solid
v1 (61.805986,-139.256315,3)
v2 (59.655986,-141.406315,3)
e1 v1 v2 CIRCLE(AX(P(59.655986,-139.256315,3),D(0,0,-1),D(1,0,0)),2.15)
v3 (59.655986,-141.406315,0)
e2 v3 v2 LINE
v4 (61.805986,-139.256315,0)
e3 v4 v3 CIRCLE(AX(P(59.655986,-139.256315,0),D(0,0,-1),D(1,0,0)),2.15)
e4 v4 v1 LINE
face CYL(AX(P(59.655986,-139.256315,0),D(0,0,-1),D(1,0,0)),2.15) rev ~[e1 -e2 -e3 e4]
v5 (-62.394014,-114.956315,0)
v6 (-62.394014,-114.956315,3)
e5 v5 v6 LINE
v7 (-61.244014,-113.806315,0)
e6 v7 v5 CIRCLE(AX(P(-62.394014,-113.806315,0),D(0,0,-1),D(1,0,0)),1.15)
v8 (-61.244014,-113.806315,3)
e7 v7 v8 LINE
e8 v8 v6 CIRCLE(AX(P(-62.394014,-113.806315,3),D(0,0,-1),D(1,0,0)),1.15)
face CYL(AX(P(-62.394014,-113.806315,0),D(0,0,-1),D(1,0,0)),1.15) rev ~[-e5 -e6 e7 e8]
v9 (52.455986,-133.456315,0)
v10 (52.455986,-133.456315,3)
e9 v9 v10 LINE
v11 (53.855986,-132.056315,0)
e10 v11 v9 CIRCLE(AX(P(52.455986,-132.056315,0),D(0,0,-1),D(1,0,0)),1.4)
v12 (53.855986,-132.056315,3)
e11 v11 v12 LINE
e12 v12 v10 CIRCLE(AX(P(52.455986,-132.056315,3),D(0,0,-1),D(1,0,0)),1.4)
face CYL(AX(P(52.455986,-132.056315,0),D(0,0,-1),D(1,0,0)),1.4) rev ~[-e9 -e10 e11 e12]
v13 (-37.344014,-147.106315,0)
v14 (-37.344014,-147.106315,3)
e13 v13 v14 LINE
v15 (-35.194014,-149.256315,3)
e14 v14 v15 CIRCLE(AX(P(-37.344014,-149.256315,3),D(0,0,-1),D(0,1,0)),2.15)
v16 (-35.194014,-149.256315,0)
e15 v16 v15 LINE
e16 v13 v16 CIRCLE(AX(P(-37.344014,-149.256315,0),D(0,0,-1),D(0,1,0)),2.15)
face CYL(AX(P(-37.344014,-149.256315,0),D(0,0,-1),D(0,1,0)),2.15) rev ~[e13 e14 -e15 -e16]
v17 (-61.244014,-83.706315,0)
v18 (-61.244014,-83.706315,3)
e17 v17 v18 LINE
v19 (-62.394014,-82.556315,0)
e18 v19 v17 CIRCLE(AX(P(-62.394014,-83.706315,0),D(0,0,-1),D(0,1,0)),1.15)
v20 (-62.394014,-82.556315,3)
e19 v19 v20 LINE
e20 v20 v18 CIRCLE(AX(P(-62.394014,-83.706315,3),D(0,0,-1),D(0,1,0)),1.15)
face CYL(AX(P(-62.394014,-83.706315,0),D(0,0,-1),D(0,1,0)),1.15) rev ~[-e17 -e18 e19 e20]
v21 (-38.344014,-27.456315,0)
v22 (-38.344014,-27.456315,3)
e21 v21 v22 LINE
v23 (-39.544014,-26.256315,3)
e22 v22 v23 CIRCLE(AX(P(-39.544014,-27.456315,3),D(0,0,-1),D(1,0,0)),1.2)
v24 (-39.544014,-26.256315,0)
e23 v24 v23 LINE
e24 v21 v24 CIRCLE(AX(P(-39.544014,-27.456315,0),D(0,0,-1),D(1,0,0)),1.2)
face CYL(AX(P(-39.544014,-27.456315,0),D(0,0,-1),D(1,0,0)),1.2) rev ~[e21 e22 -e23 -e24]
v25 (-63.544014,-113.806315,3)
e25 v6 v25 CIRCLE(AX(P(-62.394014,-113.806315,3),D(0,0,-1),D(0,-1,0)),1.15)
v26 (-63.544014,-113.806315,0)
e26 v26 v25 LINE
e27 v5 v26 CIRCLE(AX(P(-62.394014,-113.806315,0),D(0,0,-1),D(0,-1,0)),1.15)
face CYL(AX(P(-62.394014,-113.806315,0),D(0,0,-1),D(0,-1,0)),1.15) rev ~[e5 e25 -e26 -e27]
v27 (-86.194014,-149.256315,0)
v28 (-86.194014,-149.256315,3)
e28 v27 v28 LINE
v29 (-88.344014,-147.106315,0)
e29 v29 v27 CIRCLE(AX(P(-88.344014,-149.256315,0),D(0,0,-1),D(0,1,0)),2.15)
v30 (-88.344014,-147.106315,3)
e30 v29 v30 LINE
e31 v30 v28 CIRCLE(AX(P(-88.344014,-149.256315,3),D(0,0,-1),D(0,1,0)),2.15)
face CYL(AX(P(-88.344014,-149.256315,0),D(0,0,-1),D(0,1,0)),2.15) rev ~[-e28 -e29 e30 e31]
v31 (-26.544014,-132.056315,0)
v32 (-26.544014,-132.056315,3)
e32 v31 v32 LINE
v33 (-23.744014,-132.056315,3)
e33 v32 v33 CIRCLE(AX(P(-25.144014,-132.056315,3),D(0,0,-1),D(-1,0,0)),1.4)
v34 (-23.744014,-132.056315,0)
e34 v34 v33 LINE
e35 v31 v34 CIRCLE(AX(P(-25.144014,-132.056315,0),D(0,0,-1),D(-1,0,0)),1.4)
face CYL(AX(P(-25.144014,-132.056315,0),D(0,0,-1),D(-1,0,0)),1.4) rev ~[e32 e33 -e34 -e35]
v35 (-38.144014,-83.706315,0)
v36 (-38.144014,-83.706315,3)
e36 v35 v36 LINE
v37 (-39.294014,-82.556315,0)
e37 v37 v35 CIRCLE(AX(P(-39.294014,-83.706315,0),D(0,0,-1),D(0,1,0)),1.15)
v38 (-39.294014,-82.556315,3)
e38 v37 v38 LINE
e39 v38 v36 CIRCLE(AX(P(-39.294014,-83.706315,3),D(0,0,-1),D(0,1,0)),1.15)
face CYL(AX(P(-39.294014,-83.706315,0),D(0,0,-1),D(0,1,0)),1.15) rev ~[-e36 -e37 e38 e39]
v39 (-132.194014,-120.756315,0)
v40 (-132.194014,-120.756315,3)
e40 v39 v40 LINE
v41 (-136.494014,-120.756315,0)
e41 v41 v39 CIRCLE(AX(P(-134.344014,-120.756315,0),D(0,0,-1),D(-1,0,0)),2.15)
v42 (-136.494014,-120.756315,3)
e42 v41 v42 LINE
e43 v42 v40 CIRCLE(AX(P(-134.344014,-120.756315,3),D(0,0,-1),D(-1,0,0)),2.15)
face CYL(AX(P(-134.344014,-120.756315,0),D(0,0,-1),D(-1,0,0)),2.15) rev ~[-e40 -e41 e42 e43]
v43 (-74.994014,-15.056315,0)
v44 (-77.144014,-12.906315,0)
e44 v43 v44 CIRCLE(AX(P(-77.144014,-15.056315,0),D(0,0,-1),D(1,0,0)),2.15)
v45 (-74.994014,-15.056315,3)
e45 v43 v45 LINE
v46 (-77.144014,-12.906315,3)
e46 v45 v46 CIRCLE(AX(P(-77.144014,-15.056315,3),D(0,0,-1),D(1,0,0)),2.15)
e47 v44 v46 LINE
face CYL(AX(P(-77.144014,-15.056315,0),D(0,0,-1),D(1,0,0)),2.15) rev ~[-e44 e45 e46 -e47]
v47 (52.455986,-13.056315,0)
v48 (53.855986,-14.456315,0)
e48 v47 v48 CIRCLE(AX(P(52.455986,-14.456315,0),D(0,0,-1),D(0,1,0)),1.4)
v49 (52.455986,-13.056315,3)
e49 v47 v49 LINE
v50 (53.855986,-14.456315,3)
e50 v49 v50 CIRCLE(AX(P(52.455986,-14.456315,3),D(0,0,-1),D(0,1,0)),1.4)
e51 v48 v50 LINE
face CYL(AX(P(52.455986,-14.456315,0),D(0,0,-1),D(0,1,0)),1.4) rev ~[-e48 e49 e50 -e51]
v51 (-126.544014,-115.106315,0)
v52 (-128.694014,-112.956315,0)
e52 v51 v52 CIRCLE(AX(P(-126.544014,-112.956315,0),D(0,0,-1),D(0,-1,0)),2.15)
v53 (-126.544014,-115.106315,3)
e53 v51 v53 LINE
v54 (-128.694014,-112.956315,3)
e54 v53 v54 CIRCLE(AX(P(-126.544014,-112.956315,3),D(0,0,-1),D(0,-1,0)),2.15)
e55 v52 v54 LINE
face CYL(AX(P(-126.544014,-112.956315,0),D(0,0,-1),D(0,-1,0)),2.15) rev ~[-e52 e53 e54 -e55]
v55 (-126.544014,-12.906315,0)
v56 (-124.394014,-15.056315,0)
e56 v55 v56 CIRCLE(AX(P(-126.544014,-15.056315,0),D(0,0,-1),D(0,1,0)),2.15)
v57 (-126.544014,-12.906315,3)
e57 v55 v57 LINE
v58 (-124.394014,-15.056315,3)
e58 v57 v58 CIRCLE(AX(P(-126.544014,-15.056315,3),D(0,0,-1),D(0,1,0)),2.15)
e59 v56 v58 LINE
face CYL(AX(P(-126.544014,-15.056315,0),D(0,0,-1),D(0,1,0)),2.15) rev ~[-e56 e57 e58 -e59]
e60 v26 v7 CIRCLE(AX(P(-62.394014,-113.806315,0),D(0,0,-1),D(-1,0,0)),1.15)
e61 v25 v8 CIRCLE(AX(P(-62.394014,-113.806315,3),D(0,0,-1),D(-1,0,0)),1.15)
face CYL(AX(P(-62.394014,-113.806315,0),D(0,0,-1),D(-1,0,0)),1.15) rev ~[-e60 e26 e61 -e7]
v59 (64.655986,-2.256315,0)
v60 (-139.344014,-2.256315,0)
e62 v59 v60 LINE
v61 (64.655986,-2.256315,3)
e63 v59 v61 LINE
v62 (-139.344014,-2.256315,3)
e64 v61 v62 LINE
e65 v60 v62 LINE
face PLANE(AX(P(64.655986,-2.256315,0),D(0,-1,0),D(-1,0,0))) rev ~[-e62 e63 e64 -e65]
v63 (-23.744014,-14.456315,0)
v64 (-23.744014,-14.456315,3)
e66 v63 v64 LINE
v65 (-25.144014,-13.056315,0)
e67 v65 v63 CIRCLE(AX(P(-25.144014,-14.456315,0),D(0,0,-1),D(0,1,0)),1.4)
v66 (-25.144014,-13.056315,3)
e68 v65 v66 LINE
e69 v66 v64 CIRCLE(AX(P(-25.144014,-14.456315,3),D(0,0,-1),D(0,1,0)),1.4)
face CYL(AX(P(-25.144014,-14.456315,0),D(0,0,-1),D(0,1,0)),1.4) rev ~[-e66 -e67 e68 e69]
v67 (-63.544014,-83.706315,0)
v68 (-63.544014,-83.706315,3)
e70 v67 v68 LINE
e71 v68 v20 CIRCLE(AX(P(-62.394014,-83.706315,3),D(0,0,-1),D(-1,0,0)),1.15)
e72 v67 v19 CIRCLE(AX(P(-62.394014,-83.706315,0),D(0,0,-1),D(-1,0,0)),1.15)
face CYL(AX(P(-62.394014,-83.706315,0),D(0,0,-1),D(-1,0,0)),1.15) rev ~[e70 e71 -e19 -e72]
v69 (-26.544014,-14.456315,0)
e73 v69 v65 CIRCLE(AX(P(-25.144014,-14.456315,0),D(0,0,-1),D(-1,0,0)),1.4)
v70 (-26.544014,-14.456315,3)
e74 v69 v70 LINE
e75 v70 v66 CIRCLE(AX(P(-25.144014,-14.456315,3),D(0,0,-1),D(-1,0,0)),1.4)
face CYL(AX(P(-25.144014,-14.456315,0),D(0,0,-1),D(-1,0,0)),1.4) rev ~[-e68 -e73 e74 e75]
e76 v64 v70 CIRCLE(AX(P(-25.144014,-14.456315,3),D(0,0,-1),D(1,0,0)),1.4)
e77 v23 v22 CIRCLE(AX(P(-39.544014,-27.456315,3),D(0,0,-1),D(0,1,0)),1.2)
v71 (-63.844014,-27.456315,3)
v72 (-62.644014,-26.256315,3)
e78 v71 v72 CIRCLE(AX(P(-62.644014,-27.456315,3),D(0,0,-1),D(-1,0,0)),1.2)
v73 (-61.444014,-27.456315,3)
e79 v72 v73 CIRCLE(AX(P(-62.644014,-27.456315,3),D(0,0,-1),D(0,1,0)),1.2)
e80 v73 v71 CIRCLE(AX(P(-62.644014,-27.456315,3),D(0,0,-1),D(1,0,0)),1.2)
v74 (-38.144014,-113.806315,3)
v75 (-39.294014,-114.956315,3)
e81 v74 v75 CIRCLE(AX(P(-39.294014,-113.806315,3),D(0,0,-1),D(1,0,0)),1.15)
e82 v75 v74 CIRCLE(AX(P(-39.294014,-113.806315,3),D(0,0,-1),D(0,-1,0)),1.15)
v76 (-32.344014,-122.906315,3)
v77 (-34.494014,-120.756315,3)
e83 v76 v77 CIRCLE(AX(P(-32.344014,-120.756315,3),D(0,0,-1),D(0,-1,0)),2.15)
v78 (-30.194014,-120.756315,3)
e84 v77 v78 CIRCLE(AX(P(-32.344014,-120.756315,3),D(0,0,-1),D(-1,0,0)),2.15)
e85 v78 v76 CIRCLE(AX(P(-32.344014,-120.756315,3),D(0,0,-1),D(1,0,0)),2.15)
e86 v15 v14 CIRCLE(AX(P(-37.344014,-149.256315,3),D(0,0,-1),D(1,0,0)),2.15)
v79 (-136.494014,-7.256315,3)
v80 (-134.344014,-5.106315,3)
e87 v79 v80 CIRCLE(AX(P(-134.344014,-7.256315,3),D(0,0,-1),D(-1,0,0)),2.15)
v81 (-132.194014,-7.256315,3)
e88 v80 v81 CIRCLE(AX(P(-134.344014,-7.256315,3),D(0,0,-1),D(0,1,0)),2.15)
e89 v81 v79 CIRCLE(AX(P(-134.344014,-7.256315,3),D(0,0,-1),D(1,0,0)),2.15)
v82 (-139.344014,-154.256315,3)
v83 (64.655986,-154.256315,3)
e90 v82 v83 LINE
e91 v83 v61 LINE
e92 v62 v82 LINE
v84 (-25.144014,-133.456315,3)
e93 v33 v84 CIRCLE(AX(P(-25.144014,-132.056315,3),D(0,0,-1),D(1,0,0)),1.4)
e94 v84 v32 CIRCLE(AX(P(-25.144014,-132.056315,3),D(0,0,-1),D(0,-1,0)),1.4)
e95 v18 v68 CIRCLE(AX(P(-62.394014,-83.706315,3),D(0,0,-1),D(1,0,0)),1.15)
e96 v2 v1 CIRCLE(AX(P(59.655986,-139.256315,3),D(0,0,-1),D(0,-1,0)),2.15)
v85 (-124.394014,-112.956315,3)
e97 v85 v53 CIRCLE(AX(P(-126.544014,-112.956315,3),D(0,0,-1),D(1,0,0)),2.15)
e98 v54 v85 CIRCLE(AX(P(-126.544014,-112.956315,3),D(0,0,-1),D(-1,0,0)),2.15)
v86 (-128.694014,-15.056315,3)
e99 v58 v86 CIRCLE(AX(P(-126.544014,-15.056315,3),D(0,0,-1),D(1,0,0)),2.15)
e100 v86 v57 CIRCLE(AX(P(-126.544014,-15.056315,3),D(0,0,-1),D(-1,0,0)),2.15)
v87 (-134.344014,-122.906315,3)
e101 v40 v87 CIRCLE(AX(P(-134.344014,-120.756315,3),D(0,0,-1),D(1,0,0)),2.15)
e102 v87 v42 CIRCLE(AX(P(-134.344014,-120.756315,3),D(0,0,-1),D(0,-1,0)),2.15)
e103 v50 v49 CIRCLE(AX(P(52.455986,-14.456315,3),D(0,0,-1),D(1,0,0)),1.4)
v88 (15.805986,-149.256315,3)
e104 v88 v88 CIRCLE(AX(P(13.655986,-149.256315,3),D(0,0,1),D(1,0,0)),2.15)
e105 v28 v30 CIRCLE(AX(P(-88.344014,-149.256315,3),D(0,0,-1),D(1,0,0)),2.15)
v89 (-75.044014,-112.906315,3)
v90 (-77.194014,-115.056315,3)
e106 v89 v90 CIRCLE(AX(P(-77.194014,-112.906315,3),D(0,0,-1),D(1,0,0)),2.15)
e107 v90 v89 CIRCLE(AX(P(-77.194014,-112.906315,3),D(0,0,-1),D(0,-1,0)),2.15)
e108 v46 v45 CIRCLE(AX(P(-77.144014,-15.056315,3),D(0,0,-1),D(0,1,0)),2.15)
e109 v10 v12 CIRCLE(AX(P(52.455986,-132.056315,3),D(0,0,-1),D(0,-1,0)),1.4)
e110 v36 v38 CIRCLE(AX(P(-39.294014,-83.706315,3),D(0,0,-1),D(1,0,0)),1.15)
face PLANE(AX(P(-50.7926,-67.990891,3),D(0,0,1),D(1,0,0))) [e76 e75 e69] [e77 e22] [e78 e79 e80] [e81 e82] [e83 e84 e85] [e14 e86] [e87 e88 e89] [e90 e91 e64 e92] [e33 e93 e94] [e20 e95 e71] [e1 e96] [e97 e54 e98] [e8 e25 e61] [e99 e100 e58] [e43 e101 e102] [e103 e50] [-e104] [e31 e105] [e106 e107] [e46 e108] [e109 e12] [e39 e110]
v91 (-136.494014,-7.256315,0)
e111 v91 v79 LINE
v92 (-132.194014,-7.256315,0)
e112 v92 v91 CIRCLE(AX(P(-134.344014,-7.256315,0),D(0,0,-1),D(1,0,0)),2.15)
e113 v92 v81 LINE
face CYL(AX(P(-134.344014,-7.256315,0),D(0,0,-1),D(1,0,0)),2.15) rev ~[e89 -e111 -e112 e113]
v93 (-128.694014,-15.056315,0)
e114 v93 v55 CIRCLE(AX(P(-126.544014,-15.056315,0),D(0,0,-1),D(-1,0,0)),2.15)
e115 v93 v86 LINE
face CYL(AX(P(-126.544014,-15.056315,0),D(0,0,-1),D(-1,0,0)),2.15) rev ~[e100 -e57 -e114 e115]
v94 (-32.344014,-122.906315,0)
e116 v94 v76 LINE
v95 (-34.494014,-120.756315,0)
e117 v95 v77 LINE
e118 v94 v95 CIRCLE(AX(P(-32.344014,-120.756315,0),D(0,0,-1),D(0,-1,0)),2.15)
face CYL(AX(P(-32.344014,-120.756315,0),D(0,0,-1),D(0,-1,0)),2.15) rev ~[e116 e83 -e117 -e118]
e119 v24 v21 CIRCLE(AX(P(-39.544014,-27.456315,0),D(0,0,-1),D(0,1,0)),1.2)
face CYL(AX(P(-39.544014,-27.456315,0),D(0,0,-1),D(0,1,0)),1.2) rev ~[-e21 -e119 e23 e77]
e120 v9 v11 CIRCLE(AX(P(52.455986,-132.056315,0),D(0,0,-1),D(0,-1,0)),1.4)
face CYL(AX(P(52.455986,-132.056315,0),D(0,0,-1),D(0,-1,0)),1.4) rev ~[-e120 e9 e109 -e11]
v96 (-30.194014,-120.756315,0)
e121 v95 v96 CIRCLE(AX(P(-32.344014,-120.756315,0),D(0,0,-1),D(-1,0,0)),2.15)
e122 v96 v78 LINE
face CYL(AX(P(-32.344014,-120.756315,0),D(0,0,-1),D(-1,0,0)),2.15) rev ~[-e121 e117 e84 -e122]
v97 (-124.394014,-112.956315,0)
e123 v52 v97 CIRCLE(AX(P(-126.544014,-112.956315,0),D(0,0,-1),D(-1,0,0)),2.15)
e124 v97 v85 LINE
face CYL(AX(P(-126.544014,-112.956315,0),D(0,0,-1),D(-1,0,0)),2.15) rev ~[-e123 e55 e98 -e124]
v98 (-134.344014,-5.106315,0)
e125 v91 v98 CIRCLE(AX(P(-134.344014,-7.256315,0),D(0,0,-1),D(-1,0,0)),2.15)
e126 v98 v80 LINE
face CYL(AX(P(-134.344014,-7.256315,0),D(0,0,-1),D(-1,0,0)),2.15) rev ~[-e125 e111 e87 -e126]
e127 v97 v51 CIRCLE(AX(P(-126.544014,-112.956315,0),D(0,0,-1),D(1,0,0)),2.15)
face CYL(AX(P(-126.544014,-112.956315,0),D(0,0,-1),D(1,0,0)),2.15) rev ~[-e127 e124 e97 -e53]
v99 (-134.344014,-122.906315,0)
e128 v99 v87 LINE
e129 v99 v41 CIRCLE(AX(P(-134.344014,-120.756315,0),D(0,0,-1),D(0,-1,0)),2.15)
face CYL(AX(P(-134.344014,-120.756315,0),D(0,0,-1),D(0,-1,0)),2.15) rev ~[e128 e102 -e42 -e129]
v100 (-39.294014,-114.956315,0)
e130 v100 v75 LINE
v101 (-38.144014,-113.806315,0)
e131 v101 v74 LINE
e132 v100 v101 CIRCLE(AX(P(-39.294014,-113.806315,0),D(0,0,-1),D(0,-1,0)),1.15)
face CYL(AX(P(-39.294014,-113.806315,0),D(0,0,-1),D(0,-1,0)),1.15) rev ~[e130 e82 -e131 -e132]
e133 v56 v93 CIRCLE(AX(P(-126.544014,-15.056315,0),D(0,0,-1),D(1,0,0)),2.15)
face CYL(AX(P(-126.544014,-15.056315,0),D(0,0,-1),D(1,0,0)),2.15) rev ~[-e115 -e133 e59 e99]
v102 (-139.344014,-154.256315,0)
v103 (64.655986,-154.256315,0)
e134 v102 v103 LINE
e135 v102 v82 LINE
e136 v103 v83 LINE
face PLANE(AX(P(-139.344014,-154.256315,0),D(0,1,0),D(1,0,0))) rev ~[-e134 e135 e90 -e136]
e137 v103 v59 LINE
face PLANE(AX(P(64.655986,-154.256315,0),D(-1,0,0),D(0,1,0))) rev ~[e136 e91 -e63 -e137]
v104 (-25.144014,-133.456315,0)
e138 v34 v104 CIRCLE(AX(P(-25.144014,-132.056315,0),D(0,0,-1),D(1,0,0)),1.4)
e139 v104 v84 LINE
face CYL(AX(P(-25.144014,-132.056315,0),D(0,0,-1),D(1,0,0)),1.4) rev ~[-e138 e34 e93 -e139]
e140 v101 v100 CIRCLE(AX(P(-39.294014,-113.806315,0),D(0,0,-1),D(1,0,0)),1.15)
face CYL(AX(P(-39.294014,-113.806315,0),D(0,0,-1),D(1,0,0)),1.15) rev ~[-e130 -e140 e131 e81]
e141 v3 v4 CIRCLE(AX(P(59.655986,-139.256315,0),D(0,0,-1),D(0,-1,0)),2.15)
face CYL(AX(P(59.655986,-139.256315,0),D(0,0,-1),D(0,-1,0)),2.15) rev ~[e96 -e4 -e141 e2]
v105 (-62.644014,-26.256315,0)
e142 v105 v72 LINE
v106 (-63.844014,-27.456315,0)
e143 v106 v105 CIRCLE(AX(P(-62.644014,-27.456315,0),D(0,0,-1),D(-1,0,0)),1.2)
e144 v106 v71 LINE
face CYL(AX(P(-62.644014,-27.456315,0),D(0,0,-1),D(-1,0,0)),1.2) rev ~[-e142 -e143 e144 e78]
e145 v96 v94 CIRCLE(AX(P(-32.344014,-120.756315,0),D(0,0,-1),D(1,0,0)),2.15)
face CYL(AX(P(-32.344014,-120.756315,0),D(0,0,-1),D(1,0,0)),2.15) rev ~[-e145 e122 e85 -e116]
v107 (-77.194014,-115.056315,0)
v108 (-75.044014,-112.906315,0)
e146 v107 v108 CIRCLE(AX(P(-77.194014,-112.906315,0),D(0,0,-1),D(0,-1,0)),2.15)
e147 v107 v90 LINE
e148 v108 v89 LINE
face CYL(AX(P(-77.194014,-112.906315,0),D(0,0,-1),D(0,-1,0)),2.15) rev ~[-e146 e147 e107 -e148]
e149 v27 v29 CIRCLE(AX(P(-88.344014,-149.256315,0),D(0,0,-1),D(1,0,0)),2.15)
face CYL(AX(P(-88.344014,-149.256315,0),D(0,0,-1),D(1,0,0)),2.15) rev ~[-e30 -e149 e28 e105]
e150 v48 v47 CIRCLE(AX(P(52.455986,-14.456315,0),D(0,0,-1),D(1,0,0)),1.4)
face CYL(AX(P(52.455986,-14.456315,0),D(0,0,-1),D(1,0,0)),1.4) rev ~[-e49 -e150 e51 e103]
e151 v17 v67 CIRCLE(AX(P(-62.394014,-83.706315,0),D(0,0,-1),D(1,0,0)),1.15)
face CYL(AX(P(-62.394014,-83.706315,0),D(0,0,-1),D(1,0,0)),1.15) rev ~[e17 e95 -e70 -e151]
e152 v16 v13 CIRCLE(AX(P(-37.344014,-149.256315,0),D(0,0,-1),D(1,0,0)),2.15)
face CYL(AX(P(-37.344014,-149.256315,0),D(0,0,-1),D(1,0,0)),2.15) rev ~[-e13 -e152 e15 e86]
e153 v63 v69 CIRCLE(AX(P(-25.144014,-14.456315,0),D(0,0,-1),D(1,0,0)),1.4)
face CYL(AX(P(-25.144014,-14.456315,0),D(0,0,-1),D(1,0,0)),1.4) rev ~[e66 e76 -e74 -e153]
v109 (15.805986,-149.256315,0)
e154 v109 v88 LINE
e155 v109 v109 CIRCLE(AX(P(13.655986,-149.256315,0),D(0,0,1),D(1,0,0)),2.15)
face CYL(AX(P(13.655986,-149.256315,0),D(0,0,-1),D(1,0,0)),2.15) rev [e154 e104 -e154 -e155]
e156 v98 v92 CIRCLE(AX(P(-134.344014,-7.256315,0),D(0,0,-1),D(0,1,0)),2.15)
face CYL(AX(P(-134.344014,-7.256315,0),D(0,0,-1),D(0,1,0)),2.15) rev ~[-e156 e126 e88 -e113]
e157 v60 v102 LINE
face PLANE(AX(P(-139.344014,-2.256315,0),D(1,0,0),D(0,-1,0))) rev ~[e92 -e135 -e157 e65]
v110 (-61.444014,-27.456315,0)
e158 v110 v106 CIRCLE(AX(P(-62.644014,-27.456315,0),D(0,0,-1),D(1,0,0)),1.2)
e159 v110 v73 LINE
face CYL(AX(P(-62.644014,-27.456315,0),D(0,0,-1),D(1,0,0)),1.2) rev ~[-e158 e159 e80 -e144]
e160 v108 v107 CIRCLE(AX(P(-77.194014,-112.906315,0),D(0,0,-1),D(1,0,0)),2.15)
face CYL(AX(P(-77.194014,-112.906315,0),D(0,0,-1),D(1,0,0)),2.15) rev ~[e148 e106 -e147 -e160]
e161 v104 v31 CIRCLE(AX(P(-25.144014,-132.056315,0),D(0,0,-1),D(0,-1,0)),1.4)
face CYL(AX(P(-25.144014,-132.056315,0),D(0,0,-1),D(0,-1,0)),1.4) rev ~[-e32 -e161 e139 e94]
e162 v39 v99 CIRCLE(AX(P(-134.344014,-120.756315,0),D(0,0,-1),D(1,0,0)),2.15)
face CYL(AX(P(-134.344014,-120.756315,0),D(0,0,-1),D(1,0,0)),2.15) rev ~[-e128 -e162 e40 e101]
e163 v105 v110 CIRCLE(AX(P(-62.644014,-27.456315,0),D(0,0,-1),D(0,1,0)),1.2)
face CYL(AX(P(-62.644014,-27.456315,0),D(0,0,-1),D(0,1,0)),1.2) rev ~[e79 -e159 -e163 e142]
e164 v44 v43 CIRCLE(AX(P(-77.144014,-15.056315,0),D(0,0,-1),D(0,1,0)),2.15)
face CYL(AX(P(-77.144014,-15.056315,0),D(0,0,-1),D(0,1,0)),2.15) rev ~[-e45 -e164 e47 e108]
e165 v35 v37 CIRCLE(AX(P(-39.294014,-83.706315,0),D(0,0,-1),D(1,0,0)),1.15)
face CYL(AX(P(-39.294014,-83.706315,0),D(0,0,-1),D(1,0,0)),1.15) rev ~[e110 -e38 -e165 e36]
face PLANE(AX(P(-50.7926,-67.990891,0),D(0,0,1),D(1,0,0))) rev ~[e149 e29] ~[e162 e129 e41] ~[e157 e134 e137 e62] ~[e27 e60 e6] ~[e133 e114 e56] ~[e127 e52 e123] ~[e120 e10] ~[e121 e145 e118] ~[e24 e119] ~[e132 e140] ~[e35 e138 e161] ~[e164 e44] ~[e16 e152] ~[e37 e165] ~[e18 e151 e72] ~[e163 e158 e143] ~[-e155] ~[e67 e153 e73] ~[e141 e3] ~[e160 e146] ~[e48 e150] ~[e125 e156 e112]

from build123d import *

# Parameters (mm, degrees)
F0_R     = 2.15
F0_W     = 45.05
F0_H     = 10
F0_W_2   = 15
F1_DEPTH = 3


with BuildPart() as f1:
    # F0 (on Top) → F1 (new body)
    with BuildSketch(Plane.XY):
        Polygon((-27.3440142274, -12.256315279), (-74.3440142274, -12.256315279), (-74.3440142274, -15.056315279), (-74.3440142274, -112.906315279), (-74.3440142274, -115.756315279), (-64.3440142274, -115.756315279), (-64.3440142274, -113.806315279), (-64.3440142274, -83.706315279), (-64.3440142274, -81.756315279), (-62.3940142274, -81.756315279), (-57.3440142274, -81.756315279), (-57.3440142274, -71.756315279), (-42.3440142274, -71.756315279), (-42.3440142274, -81.756315279), (-39.2940142274, -81.756315279), (-37.3440142274, -81.756315279), (-37.3440142274, -83.706315279), (-37.3440142274, -113.806315279), (-37.3440142274, -115.756315279), (-27.3440142274, -115.756315279), (-27.3440142274, -14.456315279), align=None)
        Polygon((-62.5940142274, -61.756315279), (-64.3440142274, -61.756315279), (-64.3440142274, -60.006315279), (-64.3440142274, -27.456315279), (-64.3440142274, -25.756315279), (-62.6440142274, -25.756315279), (-39.5440142274, -25.756315279), (-37.8440142274, -25.756315279), (-37.8440142274, -27.456315279), (-37.8440142274, -60.006315279), (-37.8440142274, -61.756315279), (-39.5940142274, -61.756315279), align=None, mode=Mode.SUBTRACT)
        with BuildLine():
            Line((-32.3440142274, -122.906315279), (-32.3440142274, -125.756315279))
            Line((-32.3440142274, -125.756315279), (-27.3440142274, -125.756315279))
            Line((-27.3440142274, -125.756315279), (-27.3440142274, -115.756315279))
            Line((-27.3440142274, -115.756315279), (-37.3440142274, -115.756315279))
            Line((-37.3440142274, -115.756315279), (-37.3440142274, -120.756315279))
            Line((-37.3440142274, -120.756315279), (-34.4940142274, -120.756315279))
            ThreePointArc((-34.4940142274, -120.756315279), (-32.3440142274, -118.606315279), (-30.1940142274, -120.756315279))
            ThreePointArc((-30.1940142274, -120.756315279), (-30.8237346478, -122.2765948586), (-32.3440142274, -122.906315279))
        make_face()
        Polygon((-126.5440142274, -115.756315279), (-129.3440142274, -115.756315279), (-129.3440142274, -125.756315279), (-37.3440142274, -125.756315279), (-37.3440142274, -120.756315279), (-37.3440142274, -115.756315279), (-39.2940142274, -115.756315279), (-62.3940142274, -115.756315279), (-64.3440142274, -115.756315279), (-74.3440142274, -115.756315279), (-77.1940142274, -115.756315279), align=None)
        with BuildLine():
            Line((-129.3440142274, -115.756315279), (-139.3440142274, -115.756315279))
            Line((-139.3440142274, -115.756315279), (-139.3440142274, -120.756315279))
            Line((-139.3440142274, -120.756315279), (-136.4940142274, -120.756315279))
            ThreePointArc((-136.4940142274, -120.756315279), (-134.3440142274, -118.606315279), (-132.1940142274, -120.756315279))
            ThreePointArc((-132.1940142274, -120.756315279), (-132.8237346478, -122.2765948586), (-134.3440142274, -122.906315279))
            Line((-134.3440142274, -122.906315279), (-134.3440142274, -125.756315279))
            Line((-134.3440142274, -125.756315279), (-129.3440142274, -125.756315279))
            Line((-129.3440142274, -125.756315279), (-129.3440142274, -115.756315279))
        make_face()
        Polygon((-129.3440142274, -12.256315279), (-139.3440142274, -12.256315279), (-139.3440142274, -115.756315279), (-129.3440142274, -115.756315279), (-129.3440142274, -112.956315279), (-129.3440142274, -15.056315279), align=None)
        with BuildLine():
            Line((-134.3440142274, -2.256315279), (-139.3440142274, -2.256315279))
            Line((-139.3440142274, -2.256315279), (-139.3440142274, -7.256315279))
            Line((-139.3440142274, -7.256315279), (-136.4940142274, -7.256315279))
            ThreePointArc((-136.4940142274, -7.256315279), (-135.8642938069, -5.7360356995), (-134.3440142274, -5.106315279))
            Line((-134.3440142274, -5.106315279), (-134.3440142274, -2.256315279))
        make_face()
        with BuildLine():
            Line((-129.3440142274, -2.256315279), (-134.3440142274, -2.256315279))
            Line((-134.3440142274, -2.256315279), (-134.3440142274, -5.106315279))
            ThreePointArc((-134.3440142274, -5.106315279), (-132.8237346478, -5.7360356995), (-132.1940142274, -7.256315279))
            ThreePointArc((-132.1940142274, -7.256315279), (-134.3440142274, -9.406315279), (-136.4940142274, -7.256315279))
            Line((-136.4940142274, -7.256315279), (-139.3440142274, -7.256315279))
            Line((-139.3440142274, -7.256315279), (-139.3440142274, -12.256315279))
            Line((-139.3440142274, -12.256315279), (-129.3440142274, -12.256315279))
            Line((-129.3440142274, -12.256315279), (-129.3440142274, -2.256315279))
        make_face()
        Polygon((-124.3940142274, -2.256315279), (-129.3440142274, -2.256315279), (-129.3440142274, -12.256315279), (-126.5440142274, -12.256315279), (-124.3940142274, -12.256315279), align=None)
        Polygon((-27.3440142274, -134.256315279), (-27.3440142274, -144.256315279), (13.6559857726, -144.256315279), (34.6559857726, -144.256315279), (34.6559857726, -134.256315279), (-25.1440142274, -134.256315279), align=None)
        with BuildLine():
            Line((64.6559857726, -2.256315279), (-79.3440142274, -2.256315279))
            Line((-79.3440142274, -2.256315279), (-79.3440142274, -12.256315279))
            Line((-79.3440142274, -12.256315279), (-77.1440142274, -12.256315279))
            Line((-77.1440142274, -12.256315279), (-74.3440142274, -12.256315279))
            Line((-74.3440142274, -12.256315279), (-27.3440142274, -12.256315279))
            Line((-27.3440142274, -12.256315279), (-25.1440142274, -12.256315279))
            Line((-25.1440142274, -12.256315279), (52.4559857726, -12.256315279))
            Line((52.4559857726, -12.256315279), (54.6559857726, -12.256315279))
            Line((54.6559857726, -12.256315279), (54.6559857726, -14.456315279))
            Line((54.6559857726, -14.456315279), (54.6559857726, -132.056315279))
            Line((54.6559857726, -132.056315279), (54.6559857726, -134.256315279))
            Line((54.6559857726, -134.256315279), (54.6559857726, -144.256315279))
            Line((54.6559857726, -144.256315279), (59.6559857726, -144.256315279))
            Line((59.6559857726, -144.256315279), (59.6559857726, -141.406315279))
            ThreePointArc((59.6559857726, -141.406315279), (58.1357061931, -137.7360356995), (61.8059857726, -139.256315279))
            Line((61.8059857726, -139.256315279), (64.6559857726, -139.256315279))
            Line((64.6559857726, -139.256315279), (64.6559857726, -2.256315279))
        make_face()
        Polygon((-88.3440142274, -144.256315279), (-139.3440142274, -144.256315279), (-139.3440142274, -149.256315279), (-139.3440142274, -154.256315279), (64.6559857726, -154.256315279), (64.6559857726, -144.256315279), (59.6559857726, -144.256315279), (54.6559857726, -144.256315279), (34.6559857726, -144.256315279), (13.6559857726, -144.256315279), (-27.3440142274, -144.256315279), (-37.3440142274, -144.256315279), align=None)
        with BuildLine():
            ThreePointArc((-86.1940142274, -149.256315279), (-89.8642938069, -150.7765948586), (-88.3440142274, -147.106315279))
            ThreePointArc((-88.3440142274, -147.106315279), (-86.8237346478, -147.7360356995), (-86.1940142274, -149.256315279))
        make_face(mode=Mode.SUBTRACT)
        with BuildLine():
            ThreePointArc((-35.1940142274, -149.256315279), (-38.8642938069, -150.7765948586), (-37.3440142274, -147.106315279))
            ThreePointArc((-37.3440142274, -147.106315279), (-35.8237346478, -147.7360356995), (-35.1940142274, -149.256315279))
        make_face(mode=Mode.SUBTRACT)
        with Locations((13.6559857726, -149.256315279)):
            Circle(F0_R, mode=Mode.SUBTRACT)
        with BuildLine():
            Line((-79.3440142274, -12.256315279), (-124.3940142274, -12.256315279))
            Line((-124.3940142274, -12.256315279), (-126.5440142274, -12.256315279))
            Line((-126.5440142274, -12.256315279), (-126.5440142274, -12.906315279))
            ThreePointArc((-126.5440142274, -12.906315279), (-125.0237346478, -13.5360356995), (-124.3940142274, -15.056315279))
            ThreePointArc((-124.3940142274, -15.056315279), (-126.5440142274, -17.206315279), (-128.6940142274, -15.056315279))
            Line((-128.6940142274, -15.056315279), (-129.3440142274, -15.056315279))
            Line((-129.3440142274, -15.056315279), (-129.3440142274, -112.956315279))
            Line((-129.3440142274, -112.956315279), (-128.6940142274, -112.956315279))
            ThreePointArc((-128.6940142274, -112.956315279), (-126.5440142274, -110.806315279), (-124.3940142274, -112.956315279))
            ThreePointArc((-124.3940142274, -112.956315279), (-125.0237346478, -114.4765948586), (-126.5440142274, -115.106315279))
            Line((-126.5440142274, -115.106315279), (-126.5440142274, -115.756315279))
            Line((-126.5440142274, -115.756315279), (-77.1940142274, -115.756315279))
            Line((-77.1940142274, -115.756315279), (-77.1940142274, -115.056315279))
            ThreePointArc((-77.1940142274, -115.056315279), (-78.7142938069, -111.3860356995), (-75.0440142274, -112.906315279))
            Line((-75.0440142274, -112.906315279), (-74.3440142274, -112.906315279))
            Line((-74.3440142274, -112.906315279), (-74.3440142274, -15.056315279))
            Line((-74.3440142274, -15.056315279), (-74.9940142274, -15.056315279))
            ThreePointArc((-74.9940142274, -15.056315279), (-78.6642938069, -16.5765948586), (-77.1440142274, -12.906315279))
            Line((-77.1440142274, -12.906315279), (-77.1440142274, -12.256315279))
            Line((-77.1440142274, -12.256315279), (-79.3440142274, -12.256315279))
        make_face()
        with Locations((-101.8690142274, -7.256315279)):
            Rectangle(F0_W, F0_H)
        with BuildLine():
            Line((-62.3940142274, -114.956315279), (-62.3940142274, -115.756315279))
            Line((-62.3940142274, -115.756315279), (-39.2940142274, -115.756315279))
            Line((-39.2940142274, -115.756315279), (-39.2940142274, -114.956315279))
            ThreePointArc((-39.2940142274, -114.956315279), (-40.1071870258, -112.9931424806), (-38.1440142274, -113.806315279))
            Line((-38.1440142274, -113.806315279), (-37.3440142274, -113.806315279))
            Line((-37.3440142274, -113.806315279), (-37.3440142274, -83.706315279))
            Line((-37.3440142274, -83.706315279), (-38.1440142274, -83.706315279))
            ThreePointArc((-38.1440142274, -83.706315279), (-40.1071870258, -84.5194880774), (-39.2940142274, -82.556315279))
            Line((-39.2940142274, -82.556315279), (-39.2940142274, -81.756315279))
            Line((-39.2940142274, -81.756315279), (-42.3440142274, -81.756315279))
            Line((-42.3440142274, -81.756315279), (-57.3440142274, -81.756315279))
            Line((-57.3440142274, -81.756315279), (-62.3940142274, -81.756315279))
            Line((-62.3940142274, -81.756315279), (-62.3940142274, -82.556315279))
            ThreePointArc((-62.3940142274, -82.556315279), (-61.580841429, -82.8931424806), (-61.2440142274, -83.706315279))
            ThreePointArc((-61.2440142274, -83.706315279), (-62.3940142274, -84.856315279), (-63.5440142274, -83.706315279))
            Line((-63.5440142274, -83.706315279), (-64.3440142274, -83.706315279))
            Line((-64.3440142274, -83.706315279), (-64.3440142274, -113.806315279))
            Line((-64.3440142274, -113.806315279), (-63.5440142274, -113.806315279))
            ThreePointArc((-63.5440142274, -113.806315279), (-62.3940142274, -112.656315279), (-61.2440142274, -113.806315279))
            ThreePointArc((-61.2440142274, -113.806315279), (-61.580841429, -114.6194880774), (-62.3940142274, -114.956315279))
        make_face()
        with BuildLine():
            Line((-64.3440142274, -60.006315279), (-64.3440142274, -61.756315279))
            Line((-64.3440142274, -61.756315279), (-62.5940142274, -61.756315279))
            Line((-62.5940142274, -61.756315279), (-39.5940142274, -61.756315279))
            Line((-39.5940142274, -61.756315279), (-37.8440142274, -61.756315279))
            Line((-37.8440142274, -61.756315279), (-37.8440142274, -60.006315279))
            Line((-37.8440142274, -60.006315279), (-37.8440142274, -27.456315279))
            Line((-37.8440142274, -27.456315279), (-38.3440142274, -27.456315279))
            ThreePointArc((-38.3440142274, -27.456315279), (-40.3925423648, -28.3048434164), (-39.5440142274, -26.256315279))
            Line((-39.5440142274, -26.256315279), (-39.5440142274, -25.756315279))
            Line((-39.5440142274, -25.756315279), (-62.6440142274, -25.756315279))
            Line((-62.6440142274, -25.756315279), (-62.6440142274, -26.256315279))
            ThreePointArc((-62.6440142274, -26.256315279), (-61.79548609, -26.6077871416), (-61.4440142274, -27.456315279))
            ThreePointArc((-61.4440142274, -27.456315279), (-62.6440142274, -28.656315279), (-63.8440142274, -27.456315279))
            Line((-63.8440142274, -27.456315279), (-64.3440142274, -27.456315279))
            Line((-64.3440142274, -27.456315279), (-64.3440142274, -60.006315279))
        make_face()
        Polygon((34.6559857726, -144.256315279), (54.6559857726, -144.256315279), (54.6559857726, -134.256315279), (52.4559857726, -134.256315279), (34.6559857726, -134.256315279), align=None)
        with BuildLine():
            Line((-129.3440142274, -112.956315279), (-129.3440142274, -115.756315279))
            Line((-129.3440142274, -115.756315279), (-126.5440142274, -115.756315279))
            Line((-126.5440142274, -115.756315279), (-126.5440142274, -115.106315279))
            ThreePointArc((-126.5440142274, -115.106315279), (-128.0642938069, -114.4765948586), (-128.6940142274, -112.956315279))
            Line((-128.6940142274, -112.956315279), (-129.3440142274, -112.956315279))
        make_face()
        with BuildLine():
            Line((-64.3440142274, -113.806315279), (-64.3440142274, -115.756315279))
            Line((-64.3440142274, -115.756315279), (-62.3940142274, -115.756315279))
            Line((-62.3940142274, -115.756315279), (-62.3940142274, -114.956315279))
            ThreePointArc((-62.3940142274, -114.956315279), (-63.2071870258, -114.6194880774), (-63.5440142274, -113.806315279))
            Line((-63.5440142274, -113.806315279), (-64.3440142274, -113.806315279))
        make_face()
        with BuildLine():
            Line((-77.1940142274, -115.056315279), (-77.1940142274, -115.756315279))
            Line((-77.1940142274, -115.756315279), (-74.3440142274, -115.756315279))
            Line((-74.3440142274, -115.756315279), (-74.3440142274, -112.906315279))
            Line((-74.3440142274, -112.906315279), (-75.0440142274, -112.906315279))
            ThreePointArc((-75.0440142274, -112.906315279), (-75.6737346478, -114.4265948586), (-77.1940142274, -115.056315279))
        make_face()
        with Locations((-49.8440142274, -76.756315279)):
            Rectangle(F0_W_2, F0_H)
        with BuildLine():
            Line((-64.3440142274, -81.756315279), (-64.3440142274, -83.706315279))
            Line((-64.3440142274, -83.706315279), (-63.5440142274, -83.706315279))
            ThreePointArc((-63.5440142274, -83.706315279), (-63.2071870258, -82.8931424806), (-62.3940142274, -82.556315279))
            Line((-62.3940142274, -82.556315279), (-62.3940142274, -81.756315279))
            Line((-62.3940142274, -81.756315279), (-64.3440142274, -81.756315279))
        make_face()
        with BuildLine():
            Line((-38.1440142274, -83.706315279), (-37.3440142274, -83.706315279))
            Line((-37.3440142274, -83.706315279), (-37.3440142274, -81.756315279))
            Line((-37.3440142274, -81.756315279), (-39.2940142274, -81.756315279))
            Line((-39.2940142274, -81.756315279), (-39.2940142274, -82.556315279))
            ThreePointArc((-39.2940142274, -82.556315279), (-38.480841429, -82.8931424806), (-38.1440142274, -83.706315279))
        make_face()
        with BuildLine():
            Line((-39.2940142274, -115.756315279), (-37.3440142274, -115.756315279))
            Line((-37.3440142274, -115.756315279), (-37.3440142274, -113.806315279))
            Line((-37.3440142274, -113.806315279), (-38.1440142274, -113.806315279))
            ThreePointArc((-38.1440142274, -113.806315279), (-38.480841429, -114.6194880774), (-39.2940142274, -114.956315279))
            Line((-39.2940142274, -114.956315279), (-39.2940142274, -115.756315279))
        make_face()
        with BuildLine():
            Line((-74.3440142274, -12.256315279), (-77.1440142274, -12.256315279))
            Line((-77.1440142274, -12.256315279), (-77.1440142274, -12.906315279))
            ThreePointArc((-77.1440142274, -12.906315279), (-75.6237346478, -13.5360356995), (-74.9940142274, -15.056315279))
            Line((-74.9940142274, -15.056315279), (-74.3440142274, -15.056315279))
            Line((-74.3440142274, -15.056315279), (-74.3440142274, -12.256315279))
        make_face()
        with BuildLine():
            Line((-126.5440142274, -12.256315279), (-129.3440142274, -12.256315279))
            Line((-129.3440142274, -12.256315279), (-129.3440142274, -15.056315279))
            Line((-129.3440142274, -15.056315279), (-128.6940142274, -15.056315279))
            ThreePointArc((-128.6940142274, -15.056315279), (-128.0642938069, -13.5360356995), (-126.5440142274, -12.906315279))
            Line((-126.5440142274, -12.906315279), (-126.5440142274, -12.256315279))
        make_face()
        with BuildLine():
            Line((-64.3440142274, -25.756315279), (-64.3440142274, -27.456315279))
            Line((-64.3440142274, -27.456315279), (-63.8440142274, -27.456315279))
            ThreePointArc((-63.8440142274, -27.456315279), (-63.4925423648, -26.6077871416), (-62.6440142274, -26.256315279))
            Line((-62.6440142274, -26.256315279), (-62.6440142274, -25.756315279))
            Line((-62.6440142274, -25.756315279), (-64.3440142274, -25.756315279))
        make_face()
        with BuildLine():
            Line((-38.3440142274, -27.456315279), (-37.8440142274, -27.456315279))
            Line((-37.8440142274, -27.456315279), (-37.8440142274, -25.756315279))
            Line((-37.8440142274, -25.756315279), (-39.5440142274, -25.756315279))
            Line((-39.5440142274, -25.756315279), (-39.5440142274, -26.256315279))
            ThreePointArc((-39.5440142274, -26.256315279), (-38.69548609, -26.6077871416), (-38.3440142274, -27.456315279))
        make_face()
        with BuildLine():
            Line((54.6559857726, -12.256315279), (52.4559857726, -12.256315279))
            Line((52.4559857726, -12.256315279), (52.4559857726, -13.056315279))
            ThreePointArc((52.4559857726, -13.056315279), (53.4459352663, -13.4663657853), (53.8559857726, -14.456315279))
            Line((53.8559857726, -14.456315279), (54.6559857726, -14.456315279))
            Line((54.6559857726, -14.456315279), (54.6559857726, -12.256315279))
        make_face()
        with BuildLine():
            Line((-25.1440142274, -12.256315279), (-27.3440142274, -12.256315279))
            Line((-27.3440142274, -12.256315279), (-27.3440142274, -14.456315279))
            Line((-27.3440142274, -14.456315279), (-26.5440142274, -14.456315279))
            ThreePointArc((-26.5440142274, -14.456315279), (-26.1339637211, -13.4663657853), (-25.1440142274, -13.056315279))
            Line((-25.1440142274, -13.056315279), (-25.1440142274, -12.256315279))
        make_face()
        with BuildLine():
            Line((-26.5440142274, -132.056315279), (-27.3440142274, -132.056315279))
            Line((-27.3440142274, -132.056315279), (-27.3440142274, -134.256315279))
            Line((-27.3440142274, -134.256315279), (-25.1440142274, -134.256315279))
            Line((-25.1440142274, -134.256315279), (-25.1440142274, -133.456315279))
            ThreePointArc((-25.1440142274, -133.456315279), (-26.1339637211, -133.0462647727), (-26.5440142274, -132.056315279))
        make_face()
        with BuildLine():
            Line((52.4559857726, -134.256315279), (54.6559857726, -134.256315279))
            Line((54.6559857726, -134.256315279), (54.6559857726, -132.056315279))
            Line((54.6559857726, -132.056315279), (53.8559857726, -132.056315279))
            ThreePointArc((53.8559857726, -132.056315279), (53.4459352663, -133.0462647727), (52.4559857726, -133.456315279))
            Line((52.4559857726, -133.456315279), (52.4559857726, -134.256315279))
        make_face()
        Polygon((-134.3440142274, -125.756315279), (-139.3440142274, -125.756315279), (-139.3440142274, -144.256315279), (-88.3440142274, -144.256315279), (-37.3440142274, -144.256315279), (-37.3440142274, -125.756315279), (-129.3440142274, -125.756315279), align=None)
        Polygon((-32.3440142274, -125.756315279), (-37.3440142274, -125.756315279), (-37.3440142274, -144.256315279), (-27.3440142274, -144.256315279), (-27.3440142274, -134.256315279), (-27.3440142274, -132.056315279), (-27.3440142274, -125.756315279), align=None)
        with BuildLine():
            Line((-27.3440142274, -115.756315279), (-27.3440142274, -125.756315279))
            Line((-27.3440142274, -125.756315279), (-27.3440142274, -132.056315279))
            Line((-27.3440142274, -132.056315279), (-26.5440142274, -132.056315279))
            ThreePointArc((-26.5440142274, -132.056315279), (-25.1440142274, -130.656315279), (-23.7440142274, -132.056315279))
            ThreePointArc((-23.7440142274, -132.056315279), (-24.1540647337, -133.0462647727), (-25.1440142274, -133.456315279))
            Line((-25.1440142274, -133.456315279), (-25.1440142274, -134.256315279))
            Line((-25.1440142274, -134.256315279), (34.6559857726, -134.256315279))
            Line((34.6559857726, -134.256315279), (52.4559857726, -134.256315279))
            Line((52.4559857726, -134.256315279), (52.4559857726, -133.456315279))
            ThreePointArc((52.4559857726, -133.456315279), (51.4660362789, -131.0663657853), (53.8559857726, -132.056315279))
            Line((53.8559857726, -132.056315279), (54.6559857726, -132.056315279))
            Line((54.6559857726, -132.056315279), (54.6559857726, -14.456315279))
            Line((54.6559857726, -14.456315279), (53.8559857726, -14.456315279))
            ThreePointArc((53.8559857726, -14.456315279), (51.4660362789, -15.4462647727), (52.4559857726, -13.056315279))
            Line((52.4559857726, -13.056315279), (52.4559857726, -12.256315279))
            Line((52.4559857726, -12.256315279), (-25.1440142274, -12.256315279))
            Line((-25.1440142274, -12.256315279), (-25.1440142274, -13.056315279))
            ThreePointArc((-25.1440142274, -13.056315279), (-24.1540647337, -13.4663657853), (-23.7440142274, -14.456315279))
            ThreePointArc((-23.7440142274, -14.456315279), (-25.1440142274, -15.856315279), (-26.5440142274, -14.456315279))
            Line((-26.5440142274, -14.456315279), (-27.3440142274, -14.456315279))
            Line((-27.3440142274, -14.456315279), (-27.3440142274, -115.756315279))
        make_face()
        with BuildLine():
            Line((-136.4940142274, -120.756315279), (-139.3440142274, -120.756315279))
            Line((-139.3440142274, -120.756315279), (-139.3440142274, -125.756315279))
            Line((-139.3440142274, -125.756315279), (-134.3440142274, -125.756315279))
            Line((-134.3440142274, -125.756315279), (-134.3440142274, -122.906315279))
            ThreePointArc((-134.3440142274, -122.906315279), (-135.8642938069, -122.2765948586), (-136.4940142274, -120.756315279))
        make_face()
        with BuildLine():
            Line((-37.3440142274, -120.756315279), (-37.3440142274, -125.756315279))
            Line((-37.3440142274, -125.756315279), (-32.3440142274, -125.756315279))
            Line((-32.3440142274, -125.756315279), (-32.3440142274, -122.906315279))
            ThreePointArc((-32.3440142274, -122.906315279), (-33.8642938069, -122.2765948586), (-34.4940142274, -120.756315279))
            Line((-34.4940142274, -120.756315279), (-37.3440142274, -120.756315279))
        make_face()
        with BuildLine():
            Line((64.6559857726, -144.256315279), (64.6559857726, -139.256315279))
            Line((64.6559857726, -139.256315279), (61.8059857726, -139.256315279))
            ThreePointArc((61.8059857726, -139.256315279), (61.1762653522, -140.7765948586), (59.6559857726, -141.406315279))
            Line((59.6559857726, -141.406315279), (59.6559857726, -144.256315279))
            Line((59.6559857726, -144.256315279), (64.6559857726, -144.256315279))
        make_face()
    extrude(amount=F1_DEPTH)


solid = f1.part
